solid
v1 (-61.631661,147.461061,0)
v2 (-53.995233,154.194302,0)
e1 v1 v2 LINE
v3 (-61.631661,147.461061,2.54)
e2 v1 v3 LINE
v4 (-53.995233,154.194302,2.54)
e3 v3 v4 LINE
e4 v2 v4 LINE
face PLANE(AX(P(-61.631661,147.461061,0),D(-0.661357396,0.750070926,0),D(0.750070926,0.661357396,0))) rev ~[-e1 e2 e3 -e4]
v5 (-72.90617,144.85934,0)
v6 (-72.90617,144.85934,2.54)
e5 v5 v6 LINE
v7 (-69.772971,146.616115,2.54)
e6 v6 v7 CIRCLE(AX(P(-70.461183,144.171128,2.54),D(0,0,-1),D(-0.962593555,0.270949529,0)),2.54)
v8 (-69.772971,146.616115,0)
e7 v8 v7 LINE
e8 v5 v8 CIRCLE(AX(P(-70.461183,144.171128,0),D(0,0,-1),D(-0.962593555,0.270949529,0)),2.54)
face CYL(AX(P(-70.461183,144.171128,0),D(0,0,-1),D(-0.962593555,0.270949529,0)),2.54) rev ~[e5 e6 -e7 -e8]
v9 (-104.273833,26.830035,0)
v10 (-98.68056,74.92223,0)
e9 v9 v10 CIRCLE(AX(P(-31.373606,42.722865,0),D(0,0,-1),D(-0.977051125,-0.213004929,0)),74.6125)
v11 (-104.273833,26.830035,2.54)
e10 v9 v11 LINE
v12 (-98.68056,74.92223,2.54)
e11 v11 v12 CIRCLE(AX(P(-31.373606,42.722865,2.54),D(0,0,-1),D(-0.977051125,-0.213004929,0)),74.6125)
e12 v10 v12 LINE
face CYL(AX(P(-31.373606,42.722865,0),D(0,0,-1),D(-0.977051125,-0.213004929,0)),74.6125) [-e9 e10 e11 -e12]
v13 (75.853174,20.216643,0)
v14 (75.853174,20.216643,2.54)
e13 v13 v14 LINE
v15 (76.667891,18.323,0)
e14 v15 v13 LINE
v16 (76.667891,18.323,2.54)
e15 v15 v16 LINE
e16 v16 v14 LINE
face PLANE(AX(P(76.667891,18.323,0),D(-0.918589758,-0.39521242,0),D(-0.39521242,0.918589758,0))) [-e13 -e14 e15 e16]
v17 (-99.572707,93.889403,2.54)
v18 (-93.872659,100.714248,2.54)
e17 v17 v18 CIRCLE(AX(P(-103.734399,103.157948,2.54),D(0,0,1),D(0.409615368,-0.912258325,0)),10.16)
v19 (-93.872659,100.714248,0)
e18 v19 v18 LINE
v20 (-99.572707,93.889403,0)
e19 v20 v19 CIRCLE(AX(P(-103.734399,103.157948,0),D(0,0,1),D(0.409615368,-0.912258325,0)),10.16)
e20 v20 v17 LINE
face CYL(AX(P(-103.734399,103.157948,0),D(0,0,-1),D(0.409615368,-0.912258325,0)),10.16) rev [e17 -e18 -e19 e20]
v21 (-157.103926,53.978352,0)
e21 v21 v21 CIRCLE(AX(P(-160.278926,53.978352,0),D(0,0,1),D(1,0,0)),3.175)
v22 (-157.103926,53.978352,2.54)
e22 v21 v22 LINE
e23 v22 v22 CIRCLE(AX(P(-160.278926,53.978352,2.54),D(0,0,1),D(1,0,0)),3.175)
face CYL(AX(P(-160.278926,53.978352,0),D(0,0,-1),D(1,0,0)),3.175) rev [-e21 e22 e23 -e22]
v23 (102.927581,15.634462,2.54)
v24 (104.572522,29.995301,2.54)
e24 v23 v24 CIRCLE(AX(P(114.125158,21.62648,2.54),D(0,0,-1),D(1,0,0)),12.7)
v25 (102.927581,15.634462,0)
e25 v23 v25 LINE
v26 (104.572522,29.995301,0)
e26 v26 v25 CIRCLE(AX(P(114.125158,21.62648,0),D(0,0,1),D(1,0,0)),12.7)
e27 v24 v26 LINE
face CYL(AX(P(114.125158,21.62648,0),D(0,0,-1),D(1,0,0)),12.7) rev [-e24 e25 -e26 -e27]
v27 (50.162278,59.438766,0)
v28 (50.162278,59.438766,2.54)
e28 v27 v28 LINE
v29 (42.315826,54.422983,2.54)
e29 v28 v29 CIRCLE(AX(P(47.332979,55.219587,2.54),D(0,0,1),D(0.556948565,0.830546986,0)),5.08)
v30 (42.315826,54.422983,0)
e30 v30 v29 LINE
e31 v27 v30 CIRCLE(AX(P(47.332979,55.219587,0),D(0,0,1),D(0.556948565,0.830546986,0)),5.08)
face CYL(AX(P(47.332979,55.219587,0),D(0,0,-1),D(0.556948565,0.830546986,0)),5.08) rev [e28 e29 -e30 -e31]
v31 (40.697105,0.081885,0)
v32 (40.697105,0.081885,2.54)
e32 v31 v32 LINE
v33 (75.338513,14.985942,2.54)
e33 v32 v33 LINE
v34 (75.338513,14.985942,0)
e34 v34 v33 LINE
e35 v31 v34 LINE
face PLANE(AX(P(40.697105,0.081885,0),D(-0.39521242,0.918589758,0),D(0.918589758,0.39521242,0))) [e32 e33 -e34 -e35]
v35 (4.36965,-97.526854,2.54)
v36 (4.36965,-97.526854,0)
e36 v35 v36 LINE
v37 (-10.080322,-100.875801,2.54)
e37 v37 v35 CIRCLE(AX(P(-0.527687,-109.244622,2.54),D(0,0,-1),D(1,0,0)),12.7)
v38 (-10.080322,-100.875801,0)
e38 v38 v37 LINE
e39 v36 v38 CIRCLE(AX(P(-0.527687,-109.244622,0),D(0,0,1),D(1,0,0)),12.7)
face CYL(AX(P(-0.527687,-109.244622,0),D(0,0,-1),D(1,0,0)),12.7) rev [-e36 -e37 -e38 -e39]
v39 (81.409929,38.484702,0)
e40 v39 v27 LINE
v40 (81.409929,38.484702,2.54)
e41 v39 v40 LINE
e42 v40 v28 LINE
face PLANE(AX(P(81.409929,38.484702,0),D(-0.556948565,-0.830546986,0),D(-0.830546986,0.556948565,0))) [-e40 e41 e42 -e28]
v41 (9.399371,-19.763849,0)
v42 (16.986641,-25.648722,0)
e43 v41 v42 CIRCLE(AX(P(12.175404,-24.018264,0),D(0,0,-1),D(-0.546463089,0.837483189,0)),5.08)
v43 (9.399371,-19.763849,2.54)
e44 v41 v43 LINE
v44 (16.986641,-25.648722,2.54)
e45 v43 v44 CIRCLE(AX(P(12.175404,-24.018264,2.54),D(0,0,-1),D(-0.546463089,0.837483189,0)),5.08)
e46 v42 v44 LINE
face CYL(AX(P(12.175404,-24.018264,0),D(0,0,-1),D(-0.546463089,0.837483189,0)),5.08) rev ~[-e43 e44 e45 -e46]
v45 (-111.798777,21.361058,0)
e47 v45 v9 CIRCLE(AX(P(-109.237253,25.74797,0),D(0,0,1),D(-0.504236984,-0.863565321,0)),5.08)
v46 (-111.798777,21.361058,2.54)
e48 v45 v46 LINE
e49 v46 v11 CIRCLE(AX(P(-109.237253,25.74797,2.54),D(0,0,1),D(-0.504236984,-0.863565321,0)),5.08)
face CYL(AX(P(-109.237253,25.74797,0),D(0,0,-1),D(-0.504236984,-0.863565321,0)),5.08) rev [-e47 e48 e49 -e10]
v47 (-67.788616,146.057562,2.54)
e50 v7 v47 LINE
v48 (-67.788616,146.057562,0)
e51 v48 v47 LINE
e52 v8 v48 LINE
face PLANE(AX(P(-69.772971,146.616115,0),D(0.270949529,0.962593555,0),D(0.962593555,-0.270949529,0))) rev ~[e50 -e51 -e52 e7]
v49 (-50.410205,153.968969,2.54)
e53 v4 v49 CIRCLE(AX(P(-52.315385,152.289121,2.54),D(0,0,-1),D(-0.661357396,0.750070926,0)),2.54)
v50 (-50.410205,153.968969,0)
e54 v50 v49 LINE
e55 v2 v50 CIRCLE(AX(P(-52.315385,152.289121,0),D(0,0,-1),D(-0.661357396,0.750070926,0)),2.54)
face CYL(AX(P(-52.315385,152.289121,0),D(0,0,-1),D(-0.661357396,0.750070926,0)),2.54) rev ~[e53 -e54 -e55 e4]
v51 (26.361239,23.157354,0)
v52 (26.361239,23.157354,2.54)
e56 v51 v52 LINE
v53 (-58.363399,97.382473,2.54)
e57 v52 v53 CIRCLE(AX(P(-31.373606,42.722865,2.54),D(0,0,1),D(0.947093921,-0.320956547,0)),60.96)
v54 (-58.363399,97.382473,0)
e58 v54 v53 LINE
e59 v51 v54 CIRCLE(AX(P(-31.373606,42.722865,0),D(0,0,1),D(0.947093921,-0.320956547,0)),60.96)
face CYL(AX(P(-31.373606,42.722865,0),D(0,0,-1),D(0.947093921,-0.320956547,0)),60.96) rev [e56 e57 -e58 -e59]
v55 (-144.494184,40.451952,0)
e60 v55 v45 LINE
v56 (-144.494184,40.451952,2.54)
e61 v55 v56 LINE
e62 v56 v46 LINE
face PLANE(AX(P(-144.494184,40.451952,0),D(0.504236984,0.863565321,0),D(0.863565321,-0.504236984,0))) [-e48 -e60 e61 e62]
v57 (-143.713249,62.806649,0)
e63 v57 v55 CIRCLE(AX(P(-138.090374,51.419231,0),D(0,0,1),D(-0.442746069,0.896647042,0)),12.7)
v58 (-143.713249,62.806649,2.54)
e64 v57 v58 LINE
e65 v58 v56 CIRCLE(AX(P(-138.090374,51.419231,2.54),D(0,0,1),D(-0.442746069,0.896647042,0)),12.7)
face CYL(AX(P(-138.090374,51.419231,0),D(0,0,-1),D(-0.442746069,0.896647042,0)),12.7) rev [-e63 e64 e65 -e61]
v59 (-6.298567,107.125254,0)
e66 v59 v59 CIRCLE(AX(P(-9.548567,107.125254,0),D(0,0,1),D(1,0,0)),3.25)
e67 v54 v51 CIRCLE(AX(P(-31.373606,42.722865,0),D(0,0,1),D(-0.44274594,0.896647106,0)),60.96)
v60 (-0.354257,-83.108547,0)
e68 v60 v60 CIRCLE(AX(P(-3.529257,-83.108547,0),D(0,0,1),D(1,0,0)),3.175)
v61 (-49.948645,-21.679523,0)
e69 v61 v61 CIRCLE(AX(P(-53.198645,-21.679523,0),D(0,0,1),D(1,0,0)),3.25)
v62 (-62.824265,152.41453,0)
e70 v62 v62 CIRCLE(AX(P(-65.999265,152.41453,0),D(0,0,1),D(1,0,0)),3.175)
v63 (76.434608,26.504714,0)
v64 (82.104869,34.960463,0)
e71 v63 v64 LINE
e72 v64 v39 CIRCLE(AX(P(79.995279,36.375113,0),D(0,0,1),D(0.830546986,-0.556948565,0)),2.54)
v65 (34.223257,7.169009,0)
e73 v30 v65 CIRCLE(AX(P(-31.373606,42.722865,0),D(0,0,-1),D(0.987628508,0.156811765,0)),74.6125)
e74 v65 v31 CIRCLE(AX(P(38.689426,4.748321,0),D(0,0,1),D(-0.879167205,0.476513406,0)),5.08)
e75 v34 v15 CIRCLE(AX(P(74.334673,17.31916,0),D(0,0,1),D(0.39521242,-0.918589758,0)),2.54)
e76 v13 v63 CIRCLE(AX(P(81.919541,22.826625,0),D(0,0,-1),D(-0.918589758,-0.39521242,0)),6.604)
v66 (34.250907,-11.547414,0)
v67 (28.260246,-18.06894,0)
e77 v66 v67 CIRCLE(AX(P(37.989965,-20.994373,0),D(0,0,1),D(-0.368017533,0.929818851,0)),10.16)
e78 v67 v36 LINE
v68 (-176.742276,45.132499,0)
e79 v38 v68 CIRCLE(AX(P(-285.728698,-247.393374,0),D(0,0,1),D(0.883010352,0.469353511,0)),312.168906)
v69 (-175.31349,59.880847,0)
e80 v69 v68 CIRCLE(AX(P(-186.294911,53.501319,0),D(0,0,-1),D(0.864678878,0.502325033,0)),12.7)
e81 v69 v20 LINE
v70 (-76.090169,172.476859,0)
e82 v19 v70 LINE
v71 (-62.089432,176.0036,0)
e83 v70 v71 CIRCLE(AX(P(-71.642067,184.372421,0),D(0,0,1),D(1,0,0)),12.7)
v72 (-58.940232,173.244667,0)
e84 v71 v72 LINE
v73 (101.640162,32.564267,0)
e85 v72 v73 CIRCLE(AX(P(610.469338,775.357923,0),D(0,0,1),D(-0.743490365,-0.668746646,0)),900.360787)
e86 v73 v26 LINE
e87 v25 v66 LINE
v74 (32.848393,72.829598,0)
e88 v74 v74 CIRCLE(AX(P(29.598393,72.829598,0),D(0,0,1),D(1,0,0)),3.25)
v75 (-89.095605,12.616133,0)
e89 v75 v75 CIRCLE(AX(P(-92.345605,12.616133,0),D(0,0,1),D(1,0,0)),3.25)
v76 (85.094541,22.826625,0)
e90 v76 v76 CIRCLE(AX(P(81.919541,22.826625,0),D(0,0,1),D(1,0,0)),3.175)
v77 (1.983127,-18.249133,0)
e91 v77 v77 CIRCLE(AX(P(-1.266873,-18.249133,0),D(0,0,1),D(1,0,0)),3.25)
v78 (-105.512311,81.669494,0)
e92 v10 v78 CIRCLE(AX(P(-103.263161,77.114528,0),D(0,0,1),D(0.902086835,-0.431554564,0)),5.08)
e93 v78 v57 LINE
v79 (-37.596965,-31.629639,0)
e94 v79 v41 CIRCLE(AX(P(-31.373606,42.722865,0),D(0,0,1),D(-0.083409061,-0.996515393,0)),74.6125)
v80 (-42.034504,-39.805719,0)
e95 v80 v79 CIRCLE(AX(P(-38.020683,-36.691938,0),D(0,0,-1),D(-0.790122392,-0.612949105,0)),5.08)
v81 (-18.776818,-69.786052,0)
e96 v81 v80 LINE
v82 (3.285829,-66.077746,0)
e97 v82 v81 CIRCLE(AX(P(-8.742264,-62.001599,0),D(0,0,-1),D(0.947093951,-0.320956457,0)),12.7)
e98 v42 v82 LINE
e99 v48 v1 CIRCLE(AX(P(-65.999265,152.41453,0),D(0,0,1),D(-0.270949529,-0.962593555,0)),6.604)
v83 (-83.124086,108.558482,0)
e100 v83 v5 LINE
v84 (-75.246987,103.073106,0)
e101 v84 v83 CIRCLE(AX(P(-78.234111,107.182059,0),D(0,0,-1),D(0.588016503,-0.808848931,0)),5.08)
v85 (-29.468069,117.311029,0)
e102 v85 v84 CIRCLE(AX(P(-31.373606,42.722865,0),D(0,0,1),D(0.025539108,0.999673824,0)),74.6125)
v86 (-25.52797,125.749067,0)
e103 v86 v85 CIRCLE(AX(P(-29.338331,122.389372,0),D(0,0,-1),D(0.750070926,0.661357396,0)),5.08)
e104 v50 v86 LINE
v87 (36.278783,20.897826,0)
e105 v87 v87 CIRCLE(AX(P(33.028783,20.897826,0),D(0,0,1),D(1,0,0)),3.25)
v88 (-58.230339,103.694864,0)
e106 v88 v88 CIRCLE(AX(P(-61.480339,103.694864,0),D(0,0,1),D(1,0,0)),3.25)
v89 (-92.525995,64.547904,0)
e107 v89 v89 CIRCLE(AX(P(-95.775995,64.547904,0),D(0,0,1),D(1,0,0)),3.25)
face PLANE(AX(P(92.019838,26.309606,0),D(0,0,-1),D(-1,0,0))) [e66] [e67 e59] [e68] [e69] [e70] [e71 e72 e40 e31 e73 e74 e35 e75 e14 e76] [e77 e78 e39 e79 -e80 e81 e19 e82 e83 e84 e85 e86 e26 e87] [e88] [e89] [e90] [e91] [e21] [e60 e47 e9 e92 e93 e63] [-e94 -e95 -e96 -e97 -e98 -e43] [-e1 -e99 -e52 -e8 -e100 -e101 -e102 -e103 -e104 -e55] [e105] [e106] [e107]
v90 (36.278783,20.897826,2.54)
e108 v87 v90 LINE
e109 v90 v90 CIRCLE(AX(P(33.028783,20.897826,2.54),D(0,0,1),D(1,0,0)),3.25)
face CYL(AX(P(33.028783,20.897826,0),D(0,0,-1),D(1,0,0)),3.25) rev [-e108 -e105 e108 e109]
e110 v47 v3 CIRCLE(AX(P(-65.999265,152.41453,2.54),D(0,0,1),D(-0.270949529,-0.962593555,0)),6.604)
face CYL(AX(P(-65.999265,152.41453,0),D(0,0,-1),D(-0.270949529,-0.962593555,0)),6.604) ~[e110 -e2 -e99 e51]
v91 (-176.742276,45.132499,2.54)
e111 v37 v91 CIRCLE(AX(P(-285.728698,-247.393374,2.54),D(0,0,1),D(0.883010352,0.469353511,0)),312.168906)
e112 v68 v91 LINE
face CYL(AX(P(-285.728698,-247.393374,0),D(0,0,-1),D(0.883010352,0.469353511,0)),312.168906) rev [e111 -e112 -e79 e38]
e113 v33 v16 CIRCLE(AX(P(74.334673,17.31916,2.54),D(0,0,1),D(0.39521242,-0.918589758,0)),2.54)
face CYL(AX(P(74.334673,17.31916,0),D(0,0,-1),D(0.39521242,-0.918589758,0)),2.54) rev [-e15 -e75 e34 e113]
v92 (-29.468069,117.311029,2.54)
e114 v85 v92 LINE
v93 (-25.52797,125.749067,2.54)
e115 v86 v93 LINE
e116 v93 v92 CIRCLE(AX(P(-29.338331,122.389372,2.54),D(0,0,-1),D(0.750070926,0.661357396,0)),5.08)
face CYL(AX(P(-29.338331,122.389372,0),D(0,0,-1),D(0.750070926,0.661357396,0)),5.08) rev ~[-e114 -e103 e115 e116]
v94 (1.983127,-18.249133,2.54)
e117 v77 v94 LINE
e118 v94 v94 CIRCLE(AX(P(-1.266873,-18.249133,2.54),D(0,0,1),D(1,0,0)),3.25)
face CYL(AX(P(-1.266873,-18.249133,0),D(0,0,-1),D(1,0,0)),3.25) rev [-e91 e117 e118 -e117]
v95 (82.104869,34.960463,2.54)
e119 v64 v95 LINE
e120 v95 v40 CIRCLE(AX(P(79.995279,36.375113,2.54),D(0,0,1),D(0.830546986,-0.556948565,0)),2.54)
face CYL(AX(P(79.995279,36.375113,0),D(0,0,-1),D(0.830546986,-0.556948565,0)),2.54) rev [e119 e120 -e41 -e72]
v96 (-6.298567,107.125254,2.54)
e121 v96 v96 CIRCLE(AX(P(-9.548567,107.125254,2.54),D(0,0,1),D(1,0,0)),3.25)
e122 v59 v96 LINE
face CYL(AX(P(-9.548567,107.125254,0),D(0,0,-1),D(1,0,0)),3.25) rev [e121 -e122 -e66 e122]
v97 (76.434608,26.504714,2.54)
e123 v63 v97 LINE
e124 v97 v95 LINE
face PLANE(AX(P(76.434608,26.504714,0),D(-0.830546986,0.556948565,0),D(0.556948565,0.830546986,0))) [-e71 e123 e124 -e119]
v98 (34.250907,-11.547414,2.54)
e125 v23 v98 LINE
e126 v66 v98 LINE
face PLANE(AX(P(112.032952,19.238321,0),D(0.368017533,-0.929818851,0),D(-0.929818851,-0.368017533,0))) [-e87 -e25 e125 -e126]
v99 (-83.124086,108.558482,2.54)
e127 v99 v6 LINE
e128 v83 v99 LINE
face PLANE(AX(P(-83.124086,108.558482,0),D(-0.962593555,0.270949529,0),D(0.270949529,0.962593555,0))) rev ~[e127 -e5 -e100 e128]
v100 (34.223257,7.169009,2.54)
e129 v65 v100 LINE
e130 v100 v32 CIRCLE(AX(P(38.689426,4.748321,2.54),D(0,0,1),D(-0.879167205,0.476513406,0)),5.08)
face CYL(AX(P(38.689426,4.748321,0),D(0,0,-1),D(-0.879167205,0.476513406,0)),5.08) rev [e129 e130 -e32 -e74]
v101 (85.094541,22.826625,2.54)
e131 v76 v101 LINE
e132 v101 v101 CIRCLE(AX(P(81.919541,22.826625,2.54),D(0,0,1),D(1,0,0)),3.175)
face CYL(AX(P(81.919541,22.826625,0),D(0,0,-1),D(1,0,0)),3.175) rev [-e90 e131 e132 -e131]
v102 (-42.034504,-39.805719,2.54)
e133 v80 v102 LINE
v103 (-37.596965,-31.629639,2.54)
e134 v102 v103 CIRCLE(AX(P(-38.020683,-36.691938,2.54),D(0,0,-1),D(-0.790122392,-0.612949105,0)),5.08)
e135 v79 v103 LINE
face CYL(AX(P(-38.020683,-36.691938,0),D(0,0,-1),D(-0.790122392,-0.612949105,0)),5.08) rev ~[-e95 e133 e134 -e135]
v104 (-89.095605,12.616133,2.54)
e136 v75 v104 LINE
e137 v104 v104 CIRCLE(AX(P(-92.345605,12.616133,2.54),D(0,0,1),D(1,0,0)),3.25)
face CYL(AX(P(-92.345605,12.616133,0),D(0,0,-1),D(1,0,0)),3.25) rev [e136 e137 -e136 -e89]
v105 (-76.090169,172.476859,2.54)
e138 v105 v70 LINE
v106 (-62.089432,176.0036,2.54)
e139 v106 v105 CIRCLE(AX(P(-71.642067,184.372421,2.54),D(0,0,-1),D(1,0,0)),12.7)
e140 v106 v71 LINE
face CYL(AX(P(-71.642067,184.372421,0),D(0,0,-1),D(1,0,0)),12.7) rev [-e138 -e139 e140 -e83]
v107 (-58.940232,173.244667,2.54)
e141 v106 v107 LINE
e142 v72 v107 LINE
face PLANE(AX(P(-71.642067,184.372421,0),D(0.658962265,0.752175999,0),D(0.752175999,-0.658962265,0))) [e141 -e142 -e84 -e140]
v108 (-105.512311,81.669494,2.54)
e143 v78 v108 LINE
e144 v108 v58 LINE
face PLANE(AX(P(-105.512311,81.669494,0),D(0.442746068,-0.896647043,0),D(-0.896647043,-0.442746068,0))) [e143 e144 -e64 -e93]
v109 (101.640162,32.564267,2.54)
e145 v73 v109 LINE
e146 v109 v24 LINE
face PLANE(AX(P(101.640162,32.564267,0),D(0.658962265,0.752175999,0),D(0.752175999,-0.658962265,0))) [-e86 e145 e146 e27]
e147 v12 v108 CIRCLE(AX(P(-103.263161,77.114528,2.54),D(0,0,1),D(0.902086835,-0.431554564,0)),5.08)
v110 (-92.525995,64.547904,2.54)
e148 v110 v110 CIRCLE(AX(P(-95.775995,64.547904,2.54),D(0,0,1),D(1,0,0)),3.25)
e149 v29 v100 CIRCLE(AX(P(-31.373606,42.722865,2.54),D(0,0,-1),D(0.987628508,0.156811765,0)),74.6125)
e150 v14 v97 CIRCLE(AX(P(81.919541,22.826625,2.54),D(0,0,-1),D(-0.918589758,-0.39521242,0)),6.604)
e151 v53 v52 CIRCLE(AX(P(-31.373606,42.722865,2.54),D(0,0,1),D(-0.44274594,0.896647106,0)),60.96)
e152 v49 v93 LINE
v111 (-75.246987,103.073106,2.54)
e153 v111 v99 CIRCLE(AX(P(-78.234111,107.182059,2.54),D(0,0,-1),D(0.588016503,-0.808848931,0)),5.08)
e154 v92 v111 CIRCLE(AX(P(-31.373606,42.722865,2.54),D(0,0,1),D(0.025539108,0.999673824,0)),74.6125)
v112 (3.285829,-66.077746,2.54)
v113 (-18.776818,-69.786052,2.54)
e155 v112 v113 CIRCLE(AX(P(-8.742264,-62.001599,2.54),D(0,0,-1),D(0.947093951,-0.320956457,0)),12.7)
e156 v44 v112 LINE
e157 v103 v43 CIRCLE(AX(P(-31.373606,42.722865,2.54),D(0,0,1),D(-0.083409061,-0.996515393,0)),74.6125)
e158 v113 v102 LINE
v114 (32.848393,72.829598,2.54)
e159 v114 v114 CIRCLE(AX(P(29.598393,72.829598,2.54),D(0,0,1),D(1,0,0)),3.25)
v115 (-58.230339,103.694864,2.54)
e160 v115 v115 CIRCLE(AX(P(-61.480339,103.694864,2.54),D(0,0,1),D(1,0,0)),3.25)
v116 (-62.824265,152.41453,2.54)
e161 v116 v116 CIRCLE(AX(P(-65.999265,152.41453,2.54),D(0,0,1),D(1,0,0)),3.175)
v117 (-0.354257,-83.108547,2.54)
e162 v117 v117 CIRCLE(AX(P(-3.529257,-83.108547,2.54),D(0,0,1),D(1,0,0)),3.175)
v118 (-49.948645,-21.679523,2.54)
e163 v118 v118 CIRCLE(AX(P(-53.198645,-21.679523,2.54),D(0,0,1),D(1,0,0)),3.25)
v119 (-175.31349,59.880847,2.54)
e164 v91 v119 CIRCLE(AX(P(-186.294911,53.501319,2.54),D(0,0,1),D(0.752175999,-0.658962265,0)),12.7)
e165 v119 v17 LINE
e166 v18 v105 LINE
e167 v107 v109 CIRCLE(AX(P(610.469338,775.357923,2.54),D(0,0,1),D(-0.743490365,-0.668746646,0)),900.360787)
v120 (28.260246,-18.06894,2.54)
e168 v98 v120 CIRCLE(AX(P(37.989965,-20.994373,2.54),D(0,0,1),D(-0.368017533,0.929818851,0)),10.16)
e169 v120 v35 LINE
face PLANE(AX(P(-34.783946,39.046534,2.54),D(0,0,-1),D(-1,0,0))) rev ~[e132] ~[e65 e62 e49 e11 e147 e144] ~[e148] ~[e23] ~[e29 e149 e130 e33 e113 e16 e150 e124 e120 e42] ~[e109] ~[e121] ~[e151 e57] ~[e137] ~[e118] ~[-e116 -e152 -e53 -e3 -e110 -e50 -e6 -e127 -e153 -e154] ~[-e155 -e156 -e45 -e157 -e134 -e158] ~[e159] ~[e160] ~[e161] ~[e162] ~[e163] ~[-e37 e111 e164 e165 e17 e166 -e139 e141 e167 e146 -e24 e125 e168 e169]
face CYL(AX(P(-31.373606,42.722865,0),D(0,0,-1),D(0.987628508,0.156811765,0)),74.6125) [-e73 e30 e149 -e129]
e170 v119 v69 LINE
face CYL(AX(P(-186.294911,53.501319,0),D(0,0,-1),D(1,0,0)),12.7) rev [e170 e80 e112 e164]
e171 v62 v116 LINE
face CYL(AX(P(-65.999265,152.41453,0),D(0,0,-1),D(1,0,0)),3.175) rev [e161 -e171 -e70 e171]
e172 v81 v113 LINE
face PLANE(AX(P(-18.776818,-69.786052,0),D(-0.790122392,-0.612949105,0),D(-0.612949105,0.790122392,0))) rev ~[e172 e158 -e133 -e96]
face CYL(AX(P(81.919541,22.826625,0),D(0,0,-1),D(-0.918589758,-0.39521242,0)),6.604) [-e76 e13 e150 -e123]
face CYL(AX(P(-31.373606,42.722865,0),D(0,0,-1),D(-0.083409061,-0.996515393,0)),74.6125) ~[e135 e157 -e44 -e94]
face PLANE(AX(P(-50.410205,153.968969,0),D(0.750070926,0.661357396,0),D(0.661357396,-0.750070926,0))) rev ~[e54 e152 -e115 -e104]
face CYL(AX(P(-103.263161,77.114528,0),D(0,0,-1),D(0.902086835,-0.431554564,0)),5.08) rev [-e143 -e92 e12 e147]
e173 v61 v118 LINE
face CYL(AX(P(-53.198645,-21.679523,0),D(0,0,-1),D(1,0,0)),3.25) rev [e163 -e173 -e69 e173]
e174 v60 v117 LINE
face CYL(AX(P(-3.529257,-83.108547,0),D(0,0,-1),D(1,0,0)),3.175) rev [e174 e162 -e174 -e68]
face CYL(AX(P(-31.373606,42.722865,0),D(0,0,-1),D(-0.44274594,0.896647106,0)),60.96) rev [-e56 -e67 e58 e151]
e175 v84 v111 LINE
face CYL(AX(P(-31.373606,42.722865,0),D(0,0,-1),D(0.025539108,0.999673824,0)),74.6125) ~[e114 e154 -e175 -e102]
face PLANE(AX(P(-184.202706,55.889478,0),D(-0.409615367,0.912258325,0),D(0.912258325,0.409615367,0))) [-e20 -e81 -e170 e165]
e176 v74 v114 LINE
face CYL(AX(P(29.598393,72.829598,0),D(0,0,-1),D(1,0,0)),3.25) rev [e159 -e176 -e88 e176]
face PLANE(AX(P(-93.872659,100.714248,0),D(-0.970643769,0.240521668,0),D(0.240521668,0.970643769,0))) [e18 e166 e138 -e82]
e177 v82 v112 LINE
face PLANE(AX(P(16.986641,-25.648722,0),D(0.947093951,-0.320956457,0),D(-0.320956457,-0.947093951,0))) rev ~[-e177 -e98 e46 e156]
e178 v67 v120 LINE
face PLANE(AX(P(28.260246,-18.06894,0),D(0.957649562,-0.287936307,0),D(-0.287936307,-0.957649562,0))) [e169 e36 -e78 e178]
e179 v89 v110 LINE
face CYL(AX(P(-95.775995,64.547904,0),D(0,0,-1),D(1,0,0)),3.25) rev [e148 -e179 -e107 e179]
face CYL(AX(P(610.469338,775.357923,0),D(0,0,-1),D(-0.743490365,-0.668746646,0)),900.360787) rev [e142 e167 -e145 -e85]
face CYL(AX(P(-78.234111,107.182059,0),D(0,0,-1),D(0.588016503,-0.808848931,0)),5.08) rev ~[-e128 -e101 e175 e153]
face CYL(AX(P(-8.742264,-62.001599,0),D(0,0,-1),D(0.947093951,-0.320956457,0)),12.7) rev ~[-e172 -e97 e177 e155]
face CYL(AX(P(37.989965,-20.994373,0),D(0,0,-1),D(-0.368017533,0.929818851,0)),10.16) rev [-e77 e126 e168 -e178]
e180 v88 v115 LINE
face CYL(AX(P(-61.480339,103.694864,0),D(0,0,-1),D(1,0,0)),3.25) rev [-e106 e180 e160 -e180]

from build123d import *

# Parameters (mm, degrees)
SKETCH4_R           = 3.175
SKETCH4_R_2         = 3.25
BOSS_EXTRUDE1_DEPTH = 2.54
SKETCH5_R           = 12.7
CUT_EXTRUDE1_DEPTH  = 5.08
BOSS_EXTRUDE2_DEPTH = 2.54


with BuildPart() as part:
    # Sketch4 → Boss-Extrude1 (new body)
    with BuildSketch(Plane.XY):
        with BuildLine():
            Line((-176.74227619, 45.132498501), (-186.294911373, 53.501319271))
            Line((-186.294911373, 53.501319271), (-184.20270618, 55.889478066))
            Line((-184.20270618, 55.889478066), (-99.572707218, 93.889403295))
            ThreePointArc((-99.572707218, 93.889403295), (-95.936400091, 96.645129164), (-93.872658654, 100.714247725))
            Line((-93.872658654, 100.714247725), (-73.734272023, 181.984262474))
            Line((-73.734272023, 181.984262474), (-71.64206683, 184.372421269))
            Line((-71.64206683, 184.372421269), (-58.940232346, 173.244667072))
            ThreePointArc((-58.940232346, 173.244667072), (17.165554399, 98.128149473), (101.640161914, 32.564267056))
            Line((101.640161914, 32.564267056), (114.125157675, 21.626479751))
            Line((114.125157675, 21.626479751), (112.032952483, 19.238320955))
            Line((112.032952483, 19.238320955), (34.250907029, -11.547413739))
            ThreePointArc((34.250907029, -11.547413739), (30.507681387, -14.12116226), (28.260245615, -18.068940382))
            Line((28.260245615, -18.068940382), (1.564518325, -106.856463453))
            Line((1.564518325, -106.856463453), (-0.527686867, -109.244622248))
            Line((-0.527686867, -109.244622248), (-10.080322049, -100.875801479))
            ThreePointArc((-10.080322049, -100.875801479), (-80.021168146, -12.587414945), (-176.74227619, 45.132498501))
        make_face()
        with Locations((-160.278926398, 53.978352412)):
            Circle(SKETCH4_R, mode=Mode.SUBTRACT)
        with Locations((-3.529256732, -83.108546775)):
            Circle(SKETCH4_R, mode=Mode.SUBTRACT)
        with Locations((81.919540542, 22.826625413)):
            Circle(SKETCH4_R, mode=Mode.SUBTRACT)
        with Locations((-65.999265009, 152.414529532)):
            Circle(SKETCH4_R, mode=Mode.SUBTRACT)
        with Locations((-95.775994763, 64.547904473)):
            Circle(SKETCH4_R_2, mode=Mode.SUBTRACT)
        with Locations((-92.345604955, 12.616132759)):
            Circle(SKETCH4_R_2, mode=Mode.SUBTRACT)
        with Locations((-53.198645122, -21.679523284)):
            Circle(SKETCH4_R_2, mode=Mode.SUBTRACT)
        with Locations((-1.266873408, -18.249133476)):
            Circle(SKETCH4_R_2, mode=Mode.SUBTRACT)
        with Locations((33.028782635, 20.897826357)):
            Circle(SKETCH4_R_2, mode=Mode.SUBTRACT)
        with Locations((29.598392827, 72.829598071)):
            Circle(SKETCH4_R_2, mode=Mode.SUBTRACT)
        with Locations((-9.548567006, 107.125254114)):
            Circle(SKETCH4_R_2, mode=Mode.SUBTRACT)
        with Locations((-61.48033872, 103.694864306)):
            Circle(SKETCH4_R_2, mode=Mode.SUBTRACT)
        with BuildLine():
            Line((-83.124086465, 108.558482428), (-72.906170409, 144.859339501))
            ThreePointArc((-72.906170409, 144.859339501), (-71.703410878, 146.386634264), (-69.772970974, 146.616115326))
            Line((-69.772970974, 146.616115326), (-67.788615701, 146.057561693))
            ThreePointArc((-67.788615701, 146.057561693), (-64.531511448, 145.975700797), (-61.631660764, 147.461061135))
            Line((-61.631660764, 147.461061135), (-53.995233146, 154.194301567))
            ThreePointArc((-53.995233146, 154.194301567), (-52.156051315, 154.824118981), (-50.410205207, 153.968969201))
            Line((-50.410205207, 153.968969201), (-25.527970385, 125.74906719))
            ThreePointArc((-25.527970385, 125.74906719), (-24.735411209, 120.240061903), (-29.468069359, 117.311028592))
            ThreePointArc((-29.468069359, 117.311028592), (-53.532229742, 113.969062176), (-75.246987371, 103.073106251))
            ThreePointArc((-75.246987371, 103.073106251), (-81.13713529, 103.013263889), (-83.124086465, 108.558482428))
        make_face(mode=Mode.SUBTRACT)
        with BuildLine():
            Line((16.986640929, -25.648722449), (3.285829101, -66.077745579))
            ThreePointArc((3.285829101, -66.077745579), (-6.63716699, -74.525917572), (-18.776818461, -69.786052217))
            Line((-18.776818461, -69.786052217), (-42.034504369, -39.805719002))
            ThreePointArc((-42.034504369, -39.805719002), (-42.485464898, -34.268691956), (-37.596964591, -31.62963935))
            ThreePointArc((-37.596964591, -31.62963935), (-13.10838548, -29.619424245), (9.399371164, -19.763849047))
            ThreePointArc((9.399371164, -19.763849047), (15.288833977, -20.004169525), (16.986640929, -25.648722449))
        make_face(mode=Mode.SUBTRACT)
        with BuildLine():
            Line((40.69710548, 0.081884812), (75.33851288, 14.985942183))
            ThreePointArc((75.33851288, 14.985942183), (76.694329343, 16.379147659), (76.667891318, 18.322999714))
            Line((76.667891318, 18.322999714), (75.853173782, 20.216642591))
            ThreePointArc((75.853173782, 20.216642591), (75.343592919, 23.434678742), (76.434608248, 26.504713738))
            Line((76.434608248, 26.504713738), (82.104868563, 34.960463346))
            ThreePointArc((82.104868563, 34.960463346), (82.487292302, 36.86650948), (81.409928575, 38.484702046))
            Line((81.409928575, 38.484702046), (50.16227754, 59.438765709))
            ThreePointArc((50.16227754, 59.438765709), (44.596887673, 59.499797903), (42.315826006, 54.422983254))
            ThreePointArc((42.315826006, 54.422983254), (42.168235941, 30.128317757), (34.223256987, 7.169008885))
            ThreePointArc((34.223256987, 7.169008885), (34.938709714, 1.322167772), (40.69710548, 0.081884812))
        make_face(mode=Mode.SUBTRACT)
        with BuildLine():
            Line((-105.512311204, 81.669494492), (-143.713248966, 62.806648573))
            ThreePointArc((-143.713248966, 62.806648573), (-150.782631627, 51.862619993), (-144.494183598, 40.451951557))
            Line((-144.494183598, 40.451951557), (-111.798776698, 21.36105828))
            ThreePointArc((-111.798776698, 21.36105828), (-106.250665651, 21.63862745), (-104.273833103, 26.83003515))
            ThreePointArc((-104.273833103, 26.83003515), (-105.486548337, 51.342432917), (-98.680560053, 74.92223033))
            ThreePointArc((-98.680560053, 74.92223033), (-99.693477447, 80.728909632), (-105.512311204, 81.669494492))
        make_face(mode=Mode.SUBTRACT)
        with BuildLine():
            Line((93.329108368, 30.491933184), (94.570600217, 29.65941303))
            ThreePointArc((94.570600217, 29.65941303), (96.24244212, 26.144229017), (93.954385503, 22.995202038))
            Line((93.954385503, 22.995202038), (91.863858259, 22.095777322))
            ThreePointArc((91.863858259, 22.095777322), (90.11439141, 22.0719831), (88.860506481, 23.292217917))
            Line((88.860506481, 23.292217917), (88.136116535, 24.97591294))
            ThreePointArc((88.136116535, 24.97591294), (87.959723159, 26.089848531), (88.337382312, 27.152552952))
            Line((88.337382312, 27.152552952), (90.157293538, 29.866487195))
            ThreePointArc((90.157293538, 29.866487195), (91.613666847, 30.83611455), (93.329108368, 30.491933184))
        make_face(mode=Mode.SUBTRACT)
        with BuildLine():
            Line((-60.104144331, 161.506711917), (-62.555111231, 159.345629503))
            ThreePointArc((-62.555111231, 159.345629503), (-63.558905699, 158.831466309), (-64.686364863, 158.859802773))
            Line((-64.686364863, 158.859802773), (-66.450715015, 159.356429663))
            ThreePointArc((-66.450715015, 159.356429663), (-67.825280301, 160.438913241), (-68.031813258, 162.176309155))
            Line((-68.031813258, 162.176309155), (-67.41518612, 164.366980273))
            ThreePointArc((-67.41518612, 164.366980273), (-64.594485575, 167.049371452), (-60.889934446, 165.854434246))
            Line((-60.889934446, 165.854434246), (-59.901345202, 164.733237062))
            ThreePointArc((-59.901345202, 164.733237062), (-59.334509529, 163.077973415), (-60.104144331, 161.506711917))
        make_face(mode=Mode.SUBTRACT)
        with BuildLine():
            ThreePointArc((-58.363398568, 97.382472993), (-71.543951219, -3.129778676), (26.361239359, 23.157354329))
            ThreePointArc((26.361239359, 23.157354329), (8.796739091, 88.575509506), (-58.363398568, 97.382472993))
        make_face(mode=Mode.SUBTRACT)
    extrude(amount=BOSS_EXTRUDE1_DEPTH)

    # Sketch5 → Cut-Extrude1 (cut)
    with BuildSketch(Plane.XY):
        with Locations((-71.64206683, 184.372421269)):
            Circle(SKETCH5_R)
        with Locations((-186.294911373, 53.501319271)):
            Circle(SKETCH5_R)
        with Locations((-0.527686867, -109.244622248)):
            Circle(SKETCH5_R)
        with Locations((114.125157675, 21.626479751)):
            Circle(SKETCH5_R)
    extrude(amount=CUT_EXTRUDE1_DEPTH, mode=Mode.SUBTRACT)

    # Sketch4<4> → Boss-Extrude2 (add)
    with BuildSketch(Plane.XY):
        with BuildLine():
            Line((94.570600217, 29.65941303), (93.329108368, 30.491933184))
            ThreePointArc((93.329108368, 30.491933184), (91.613666847, 30.83611455), (90.157293538, 29.866487195))
            Line((90.157293538, 29.866487195), (88.337382312, 27.152552952))
            ThreePointArc((88.337382312, 27.152552952), (87.959723159, 26.089848531), (88.136116535, 24.97591294))
            Line((88.136116535, 24.97591294), (88.860506481, 23.292217917))
            ThreePointArc((88.860506481, 23.292217917), (90.11439141, 22.0719831), (91.863858259, 22.095777322))
            Line((91.863858259, 22.095777322), (93.954385503, 22.995202038))
            ThreePointArc((93.954385503, 22.995202038), (96.24244212, 26.144229017), (94.570600217, 29.65941303))
        make_face()
        with BuildLine():
            Line((-62.555111231, 159.345629503), (-60.104144331, 161.506711917))
            ThreePointArc((-60.104144331, 161.506711917), (-59.334509529, 163.077973415), (-59.901345202, 164.733237062))
            Line((-59.901345202, 164.733237062), (-60.889934446, 165.854434246))
            ThreePointArc((-60.889934446, 165.854434246), (-64.594485575, 167.049371452), (-67.41518612, 164.366980273))
            Line((-67.41518612, 164.366980273), (-68.031813258, 162.176309155))
            ThreePointArc((-68.031813258, 162.176309155), (-67.825280301, 160.438913241), (-66.450715015, 159.356429663))
            Line((-66.450715015, 159.356429663), (-64.686364863, 158.859802773))
            ThreePointArc((-64.686364863, 158.859802773), (-63.558905699, 158.831466309), (-62.555111231, 159.345629503))
        make_face()
    extrude(amount=BOSS_EXTRUDE2_DEPTH)


solid = part.part
